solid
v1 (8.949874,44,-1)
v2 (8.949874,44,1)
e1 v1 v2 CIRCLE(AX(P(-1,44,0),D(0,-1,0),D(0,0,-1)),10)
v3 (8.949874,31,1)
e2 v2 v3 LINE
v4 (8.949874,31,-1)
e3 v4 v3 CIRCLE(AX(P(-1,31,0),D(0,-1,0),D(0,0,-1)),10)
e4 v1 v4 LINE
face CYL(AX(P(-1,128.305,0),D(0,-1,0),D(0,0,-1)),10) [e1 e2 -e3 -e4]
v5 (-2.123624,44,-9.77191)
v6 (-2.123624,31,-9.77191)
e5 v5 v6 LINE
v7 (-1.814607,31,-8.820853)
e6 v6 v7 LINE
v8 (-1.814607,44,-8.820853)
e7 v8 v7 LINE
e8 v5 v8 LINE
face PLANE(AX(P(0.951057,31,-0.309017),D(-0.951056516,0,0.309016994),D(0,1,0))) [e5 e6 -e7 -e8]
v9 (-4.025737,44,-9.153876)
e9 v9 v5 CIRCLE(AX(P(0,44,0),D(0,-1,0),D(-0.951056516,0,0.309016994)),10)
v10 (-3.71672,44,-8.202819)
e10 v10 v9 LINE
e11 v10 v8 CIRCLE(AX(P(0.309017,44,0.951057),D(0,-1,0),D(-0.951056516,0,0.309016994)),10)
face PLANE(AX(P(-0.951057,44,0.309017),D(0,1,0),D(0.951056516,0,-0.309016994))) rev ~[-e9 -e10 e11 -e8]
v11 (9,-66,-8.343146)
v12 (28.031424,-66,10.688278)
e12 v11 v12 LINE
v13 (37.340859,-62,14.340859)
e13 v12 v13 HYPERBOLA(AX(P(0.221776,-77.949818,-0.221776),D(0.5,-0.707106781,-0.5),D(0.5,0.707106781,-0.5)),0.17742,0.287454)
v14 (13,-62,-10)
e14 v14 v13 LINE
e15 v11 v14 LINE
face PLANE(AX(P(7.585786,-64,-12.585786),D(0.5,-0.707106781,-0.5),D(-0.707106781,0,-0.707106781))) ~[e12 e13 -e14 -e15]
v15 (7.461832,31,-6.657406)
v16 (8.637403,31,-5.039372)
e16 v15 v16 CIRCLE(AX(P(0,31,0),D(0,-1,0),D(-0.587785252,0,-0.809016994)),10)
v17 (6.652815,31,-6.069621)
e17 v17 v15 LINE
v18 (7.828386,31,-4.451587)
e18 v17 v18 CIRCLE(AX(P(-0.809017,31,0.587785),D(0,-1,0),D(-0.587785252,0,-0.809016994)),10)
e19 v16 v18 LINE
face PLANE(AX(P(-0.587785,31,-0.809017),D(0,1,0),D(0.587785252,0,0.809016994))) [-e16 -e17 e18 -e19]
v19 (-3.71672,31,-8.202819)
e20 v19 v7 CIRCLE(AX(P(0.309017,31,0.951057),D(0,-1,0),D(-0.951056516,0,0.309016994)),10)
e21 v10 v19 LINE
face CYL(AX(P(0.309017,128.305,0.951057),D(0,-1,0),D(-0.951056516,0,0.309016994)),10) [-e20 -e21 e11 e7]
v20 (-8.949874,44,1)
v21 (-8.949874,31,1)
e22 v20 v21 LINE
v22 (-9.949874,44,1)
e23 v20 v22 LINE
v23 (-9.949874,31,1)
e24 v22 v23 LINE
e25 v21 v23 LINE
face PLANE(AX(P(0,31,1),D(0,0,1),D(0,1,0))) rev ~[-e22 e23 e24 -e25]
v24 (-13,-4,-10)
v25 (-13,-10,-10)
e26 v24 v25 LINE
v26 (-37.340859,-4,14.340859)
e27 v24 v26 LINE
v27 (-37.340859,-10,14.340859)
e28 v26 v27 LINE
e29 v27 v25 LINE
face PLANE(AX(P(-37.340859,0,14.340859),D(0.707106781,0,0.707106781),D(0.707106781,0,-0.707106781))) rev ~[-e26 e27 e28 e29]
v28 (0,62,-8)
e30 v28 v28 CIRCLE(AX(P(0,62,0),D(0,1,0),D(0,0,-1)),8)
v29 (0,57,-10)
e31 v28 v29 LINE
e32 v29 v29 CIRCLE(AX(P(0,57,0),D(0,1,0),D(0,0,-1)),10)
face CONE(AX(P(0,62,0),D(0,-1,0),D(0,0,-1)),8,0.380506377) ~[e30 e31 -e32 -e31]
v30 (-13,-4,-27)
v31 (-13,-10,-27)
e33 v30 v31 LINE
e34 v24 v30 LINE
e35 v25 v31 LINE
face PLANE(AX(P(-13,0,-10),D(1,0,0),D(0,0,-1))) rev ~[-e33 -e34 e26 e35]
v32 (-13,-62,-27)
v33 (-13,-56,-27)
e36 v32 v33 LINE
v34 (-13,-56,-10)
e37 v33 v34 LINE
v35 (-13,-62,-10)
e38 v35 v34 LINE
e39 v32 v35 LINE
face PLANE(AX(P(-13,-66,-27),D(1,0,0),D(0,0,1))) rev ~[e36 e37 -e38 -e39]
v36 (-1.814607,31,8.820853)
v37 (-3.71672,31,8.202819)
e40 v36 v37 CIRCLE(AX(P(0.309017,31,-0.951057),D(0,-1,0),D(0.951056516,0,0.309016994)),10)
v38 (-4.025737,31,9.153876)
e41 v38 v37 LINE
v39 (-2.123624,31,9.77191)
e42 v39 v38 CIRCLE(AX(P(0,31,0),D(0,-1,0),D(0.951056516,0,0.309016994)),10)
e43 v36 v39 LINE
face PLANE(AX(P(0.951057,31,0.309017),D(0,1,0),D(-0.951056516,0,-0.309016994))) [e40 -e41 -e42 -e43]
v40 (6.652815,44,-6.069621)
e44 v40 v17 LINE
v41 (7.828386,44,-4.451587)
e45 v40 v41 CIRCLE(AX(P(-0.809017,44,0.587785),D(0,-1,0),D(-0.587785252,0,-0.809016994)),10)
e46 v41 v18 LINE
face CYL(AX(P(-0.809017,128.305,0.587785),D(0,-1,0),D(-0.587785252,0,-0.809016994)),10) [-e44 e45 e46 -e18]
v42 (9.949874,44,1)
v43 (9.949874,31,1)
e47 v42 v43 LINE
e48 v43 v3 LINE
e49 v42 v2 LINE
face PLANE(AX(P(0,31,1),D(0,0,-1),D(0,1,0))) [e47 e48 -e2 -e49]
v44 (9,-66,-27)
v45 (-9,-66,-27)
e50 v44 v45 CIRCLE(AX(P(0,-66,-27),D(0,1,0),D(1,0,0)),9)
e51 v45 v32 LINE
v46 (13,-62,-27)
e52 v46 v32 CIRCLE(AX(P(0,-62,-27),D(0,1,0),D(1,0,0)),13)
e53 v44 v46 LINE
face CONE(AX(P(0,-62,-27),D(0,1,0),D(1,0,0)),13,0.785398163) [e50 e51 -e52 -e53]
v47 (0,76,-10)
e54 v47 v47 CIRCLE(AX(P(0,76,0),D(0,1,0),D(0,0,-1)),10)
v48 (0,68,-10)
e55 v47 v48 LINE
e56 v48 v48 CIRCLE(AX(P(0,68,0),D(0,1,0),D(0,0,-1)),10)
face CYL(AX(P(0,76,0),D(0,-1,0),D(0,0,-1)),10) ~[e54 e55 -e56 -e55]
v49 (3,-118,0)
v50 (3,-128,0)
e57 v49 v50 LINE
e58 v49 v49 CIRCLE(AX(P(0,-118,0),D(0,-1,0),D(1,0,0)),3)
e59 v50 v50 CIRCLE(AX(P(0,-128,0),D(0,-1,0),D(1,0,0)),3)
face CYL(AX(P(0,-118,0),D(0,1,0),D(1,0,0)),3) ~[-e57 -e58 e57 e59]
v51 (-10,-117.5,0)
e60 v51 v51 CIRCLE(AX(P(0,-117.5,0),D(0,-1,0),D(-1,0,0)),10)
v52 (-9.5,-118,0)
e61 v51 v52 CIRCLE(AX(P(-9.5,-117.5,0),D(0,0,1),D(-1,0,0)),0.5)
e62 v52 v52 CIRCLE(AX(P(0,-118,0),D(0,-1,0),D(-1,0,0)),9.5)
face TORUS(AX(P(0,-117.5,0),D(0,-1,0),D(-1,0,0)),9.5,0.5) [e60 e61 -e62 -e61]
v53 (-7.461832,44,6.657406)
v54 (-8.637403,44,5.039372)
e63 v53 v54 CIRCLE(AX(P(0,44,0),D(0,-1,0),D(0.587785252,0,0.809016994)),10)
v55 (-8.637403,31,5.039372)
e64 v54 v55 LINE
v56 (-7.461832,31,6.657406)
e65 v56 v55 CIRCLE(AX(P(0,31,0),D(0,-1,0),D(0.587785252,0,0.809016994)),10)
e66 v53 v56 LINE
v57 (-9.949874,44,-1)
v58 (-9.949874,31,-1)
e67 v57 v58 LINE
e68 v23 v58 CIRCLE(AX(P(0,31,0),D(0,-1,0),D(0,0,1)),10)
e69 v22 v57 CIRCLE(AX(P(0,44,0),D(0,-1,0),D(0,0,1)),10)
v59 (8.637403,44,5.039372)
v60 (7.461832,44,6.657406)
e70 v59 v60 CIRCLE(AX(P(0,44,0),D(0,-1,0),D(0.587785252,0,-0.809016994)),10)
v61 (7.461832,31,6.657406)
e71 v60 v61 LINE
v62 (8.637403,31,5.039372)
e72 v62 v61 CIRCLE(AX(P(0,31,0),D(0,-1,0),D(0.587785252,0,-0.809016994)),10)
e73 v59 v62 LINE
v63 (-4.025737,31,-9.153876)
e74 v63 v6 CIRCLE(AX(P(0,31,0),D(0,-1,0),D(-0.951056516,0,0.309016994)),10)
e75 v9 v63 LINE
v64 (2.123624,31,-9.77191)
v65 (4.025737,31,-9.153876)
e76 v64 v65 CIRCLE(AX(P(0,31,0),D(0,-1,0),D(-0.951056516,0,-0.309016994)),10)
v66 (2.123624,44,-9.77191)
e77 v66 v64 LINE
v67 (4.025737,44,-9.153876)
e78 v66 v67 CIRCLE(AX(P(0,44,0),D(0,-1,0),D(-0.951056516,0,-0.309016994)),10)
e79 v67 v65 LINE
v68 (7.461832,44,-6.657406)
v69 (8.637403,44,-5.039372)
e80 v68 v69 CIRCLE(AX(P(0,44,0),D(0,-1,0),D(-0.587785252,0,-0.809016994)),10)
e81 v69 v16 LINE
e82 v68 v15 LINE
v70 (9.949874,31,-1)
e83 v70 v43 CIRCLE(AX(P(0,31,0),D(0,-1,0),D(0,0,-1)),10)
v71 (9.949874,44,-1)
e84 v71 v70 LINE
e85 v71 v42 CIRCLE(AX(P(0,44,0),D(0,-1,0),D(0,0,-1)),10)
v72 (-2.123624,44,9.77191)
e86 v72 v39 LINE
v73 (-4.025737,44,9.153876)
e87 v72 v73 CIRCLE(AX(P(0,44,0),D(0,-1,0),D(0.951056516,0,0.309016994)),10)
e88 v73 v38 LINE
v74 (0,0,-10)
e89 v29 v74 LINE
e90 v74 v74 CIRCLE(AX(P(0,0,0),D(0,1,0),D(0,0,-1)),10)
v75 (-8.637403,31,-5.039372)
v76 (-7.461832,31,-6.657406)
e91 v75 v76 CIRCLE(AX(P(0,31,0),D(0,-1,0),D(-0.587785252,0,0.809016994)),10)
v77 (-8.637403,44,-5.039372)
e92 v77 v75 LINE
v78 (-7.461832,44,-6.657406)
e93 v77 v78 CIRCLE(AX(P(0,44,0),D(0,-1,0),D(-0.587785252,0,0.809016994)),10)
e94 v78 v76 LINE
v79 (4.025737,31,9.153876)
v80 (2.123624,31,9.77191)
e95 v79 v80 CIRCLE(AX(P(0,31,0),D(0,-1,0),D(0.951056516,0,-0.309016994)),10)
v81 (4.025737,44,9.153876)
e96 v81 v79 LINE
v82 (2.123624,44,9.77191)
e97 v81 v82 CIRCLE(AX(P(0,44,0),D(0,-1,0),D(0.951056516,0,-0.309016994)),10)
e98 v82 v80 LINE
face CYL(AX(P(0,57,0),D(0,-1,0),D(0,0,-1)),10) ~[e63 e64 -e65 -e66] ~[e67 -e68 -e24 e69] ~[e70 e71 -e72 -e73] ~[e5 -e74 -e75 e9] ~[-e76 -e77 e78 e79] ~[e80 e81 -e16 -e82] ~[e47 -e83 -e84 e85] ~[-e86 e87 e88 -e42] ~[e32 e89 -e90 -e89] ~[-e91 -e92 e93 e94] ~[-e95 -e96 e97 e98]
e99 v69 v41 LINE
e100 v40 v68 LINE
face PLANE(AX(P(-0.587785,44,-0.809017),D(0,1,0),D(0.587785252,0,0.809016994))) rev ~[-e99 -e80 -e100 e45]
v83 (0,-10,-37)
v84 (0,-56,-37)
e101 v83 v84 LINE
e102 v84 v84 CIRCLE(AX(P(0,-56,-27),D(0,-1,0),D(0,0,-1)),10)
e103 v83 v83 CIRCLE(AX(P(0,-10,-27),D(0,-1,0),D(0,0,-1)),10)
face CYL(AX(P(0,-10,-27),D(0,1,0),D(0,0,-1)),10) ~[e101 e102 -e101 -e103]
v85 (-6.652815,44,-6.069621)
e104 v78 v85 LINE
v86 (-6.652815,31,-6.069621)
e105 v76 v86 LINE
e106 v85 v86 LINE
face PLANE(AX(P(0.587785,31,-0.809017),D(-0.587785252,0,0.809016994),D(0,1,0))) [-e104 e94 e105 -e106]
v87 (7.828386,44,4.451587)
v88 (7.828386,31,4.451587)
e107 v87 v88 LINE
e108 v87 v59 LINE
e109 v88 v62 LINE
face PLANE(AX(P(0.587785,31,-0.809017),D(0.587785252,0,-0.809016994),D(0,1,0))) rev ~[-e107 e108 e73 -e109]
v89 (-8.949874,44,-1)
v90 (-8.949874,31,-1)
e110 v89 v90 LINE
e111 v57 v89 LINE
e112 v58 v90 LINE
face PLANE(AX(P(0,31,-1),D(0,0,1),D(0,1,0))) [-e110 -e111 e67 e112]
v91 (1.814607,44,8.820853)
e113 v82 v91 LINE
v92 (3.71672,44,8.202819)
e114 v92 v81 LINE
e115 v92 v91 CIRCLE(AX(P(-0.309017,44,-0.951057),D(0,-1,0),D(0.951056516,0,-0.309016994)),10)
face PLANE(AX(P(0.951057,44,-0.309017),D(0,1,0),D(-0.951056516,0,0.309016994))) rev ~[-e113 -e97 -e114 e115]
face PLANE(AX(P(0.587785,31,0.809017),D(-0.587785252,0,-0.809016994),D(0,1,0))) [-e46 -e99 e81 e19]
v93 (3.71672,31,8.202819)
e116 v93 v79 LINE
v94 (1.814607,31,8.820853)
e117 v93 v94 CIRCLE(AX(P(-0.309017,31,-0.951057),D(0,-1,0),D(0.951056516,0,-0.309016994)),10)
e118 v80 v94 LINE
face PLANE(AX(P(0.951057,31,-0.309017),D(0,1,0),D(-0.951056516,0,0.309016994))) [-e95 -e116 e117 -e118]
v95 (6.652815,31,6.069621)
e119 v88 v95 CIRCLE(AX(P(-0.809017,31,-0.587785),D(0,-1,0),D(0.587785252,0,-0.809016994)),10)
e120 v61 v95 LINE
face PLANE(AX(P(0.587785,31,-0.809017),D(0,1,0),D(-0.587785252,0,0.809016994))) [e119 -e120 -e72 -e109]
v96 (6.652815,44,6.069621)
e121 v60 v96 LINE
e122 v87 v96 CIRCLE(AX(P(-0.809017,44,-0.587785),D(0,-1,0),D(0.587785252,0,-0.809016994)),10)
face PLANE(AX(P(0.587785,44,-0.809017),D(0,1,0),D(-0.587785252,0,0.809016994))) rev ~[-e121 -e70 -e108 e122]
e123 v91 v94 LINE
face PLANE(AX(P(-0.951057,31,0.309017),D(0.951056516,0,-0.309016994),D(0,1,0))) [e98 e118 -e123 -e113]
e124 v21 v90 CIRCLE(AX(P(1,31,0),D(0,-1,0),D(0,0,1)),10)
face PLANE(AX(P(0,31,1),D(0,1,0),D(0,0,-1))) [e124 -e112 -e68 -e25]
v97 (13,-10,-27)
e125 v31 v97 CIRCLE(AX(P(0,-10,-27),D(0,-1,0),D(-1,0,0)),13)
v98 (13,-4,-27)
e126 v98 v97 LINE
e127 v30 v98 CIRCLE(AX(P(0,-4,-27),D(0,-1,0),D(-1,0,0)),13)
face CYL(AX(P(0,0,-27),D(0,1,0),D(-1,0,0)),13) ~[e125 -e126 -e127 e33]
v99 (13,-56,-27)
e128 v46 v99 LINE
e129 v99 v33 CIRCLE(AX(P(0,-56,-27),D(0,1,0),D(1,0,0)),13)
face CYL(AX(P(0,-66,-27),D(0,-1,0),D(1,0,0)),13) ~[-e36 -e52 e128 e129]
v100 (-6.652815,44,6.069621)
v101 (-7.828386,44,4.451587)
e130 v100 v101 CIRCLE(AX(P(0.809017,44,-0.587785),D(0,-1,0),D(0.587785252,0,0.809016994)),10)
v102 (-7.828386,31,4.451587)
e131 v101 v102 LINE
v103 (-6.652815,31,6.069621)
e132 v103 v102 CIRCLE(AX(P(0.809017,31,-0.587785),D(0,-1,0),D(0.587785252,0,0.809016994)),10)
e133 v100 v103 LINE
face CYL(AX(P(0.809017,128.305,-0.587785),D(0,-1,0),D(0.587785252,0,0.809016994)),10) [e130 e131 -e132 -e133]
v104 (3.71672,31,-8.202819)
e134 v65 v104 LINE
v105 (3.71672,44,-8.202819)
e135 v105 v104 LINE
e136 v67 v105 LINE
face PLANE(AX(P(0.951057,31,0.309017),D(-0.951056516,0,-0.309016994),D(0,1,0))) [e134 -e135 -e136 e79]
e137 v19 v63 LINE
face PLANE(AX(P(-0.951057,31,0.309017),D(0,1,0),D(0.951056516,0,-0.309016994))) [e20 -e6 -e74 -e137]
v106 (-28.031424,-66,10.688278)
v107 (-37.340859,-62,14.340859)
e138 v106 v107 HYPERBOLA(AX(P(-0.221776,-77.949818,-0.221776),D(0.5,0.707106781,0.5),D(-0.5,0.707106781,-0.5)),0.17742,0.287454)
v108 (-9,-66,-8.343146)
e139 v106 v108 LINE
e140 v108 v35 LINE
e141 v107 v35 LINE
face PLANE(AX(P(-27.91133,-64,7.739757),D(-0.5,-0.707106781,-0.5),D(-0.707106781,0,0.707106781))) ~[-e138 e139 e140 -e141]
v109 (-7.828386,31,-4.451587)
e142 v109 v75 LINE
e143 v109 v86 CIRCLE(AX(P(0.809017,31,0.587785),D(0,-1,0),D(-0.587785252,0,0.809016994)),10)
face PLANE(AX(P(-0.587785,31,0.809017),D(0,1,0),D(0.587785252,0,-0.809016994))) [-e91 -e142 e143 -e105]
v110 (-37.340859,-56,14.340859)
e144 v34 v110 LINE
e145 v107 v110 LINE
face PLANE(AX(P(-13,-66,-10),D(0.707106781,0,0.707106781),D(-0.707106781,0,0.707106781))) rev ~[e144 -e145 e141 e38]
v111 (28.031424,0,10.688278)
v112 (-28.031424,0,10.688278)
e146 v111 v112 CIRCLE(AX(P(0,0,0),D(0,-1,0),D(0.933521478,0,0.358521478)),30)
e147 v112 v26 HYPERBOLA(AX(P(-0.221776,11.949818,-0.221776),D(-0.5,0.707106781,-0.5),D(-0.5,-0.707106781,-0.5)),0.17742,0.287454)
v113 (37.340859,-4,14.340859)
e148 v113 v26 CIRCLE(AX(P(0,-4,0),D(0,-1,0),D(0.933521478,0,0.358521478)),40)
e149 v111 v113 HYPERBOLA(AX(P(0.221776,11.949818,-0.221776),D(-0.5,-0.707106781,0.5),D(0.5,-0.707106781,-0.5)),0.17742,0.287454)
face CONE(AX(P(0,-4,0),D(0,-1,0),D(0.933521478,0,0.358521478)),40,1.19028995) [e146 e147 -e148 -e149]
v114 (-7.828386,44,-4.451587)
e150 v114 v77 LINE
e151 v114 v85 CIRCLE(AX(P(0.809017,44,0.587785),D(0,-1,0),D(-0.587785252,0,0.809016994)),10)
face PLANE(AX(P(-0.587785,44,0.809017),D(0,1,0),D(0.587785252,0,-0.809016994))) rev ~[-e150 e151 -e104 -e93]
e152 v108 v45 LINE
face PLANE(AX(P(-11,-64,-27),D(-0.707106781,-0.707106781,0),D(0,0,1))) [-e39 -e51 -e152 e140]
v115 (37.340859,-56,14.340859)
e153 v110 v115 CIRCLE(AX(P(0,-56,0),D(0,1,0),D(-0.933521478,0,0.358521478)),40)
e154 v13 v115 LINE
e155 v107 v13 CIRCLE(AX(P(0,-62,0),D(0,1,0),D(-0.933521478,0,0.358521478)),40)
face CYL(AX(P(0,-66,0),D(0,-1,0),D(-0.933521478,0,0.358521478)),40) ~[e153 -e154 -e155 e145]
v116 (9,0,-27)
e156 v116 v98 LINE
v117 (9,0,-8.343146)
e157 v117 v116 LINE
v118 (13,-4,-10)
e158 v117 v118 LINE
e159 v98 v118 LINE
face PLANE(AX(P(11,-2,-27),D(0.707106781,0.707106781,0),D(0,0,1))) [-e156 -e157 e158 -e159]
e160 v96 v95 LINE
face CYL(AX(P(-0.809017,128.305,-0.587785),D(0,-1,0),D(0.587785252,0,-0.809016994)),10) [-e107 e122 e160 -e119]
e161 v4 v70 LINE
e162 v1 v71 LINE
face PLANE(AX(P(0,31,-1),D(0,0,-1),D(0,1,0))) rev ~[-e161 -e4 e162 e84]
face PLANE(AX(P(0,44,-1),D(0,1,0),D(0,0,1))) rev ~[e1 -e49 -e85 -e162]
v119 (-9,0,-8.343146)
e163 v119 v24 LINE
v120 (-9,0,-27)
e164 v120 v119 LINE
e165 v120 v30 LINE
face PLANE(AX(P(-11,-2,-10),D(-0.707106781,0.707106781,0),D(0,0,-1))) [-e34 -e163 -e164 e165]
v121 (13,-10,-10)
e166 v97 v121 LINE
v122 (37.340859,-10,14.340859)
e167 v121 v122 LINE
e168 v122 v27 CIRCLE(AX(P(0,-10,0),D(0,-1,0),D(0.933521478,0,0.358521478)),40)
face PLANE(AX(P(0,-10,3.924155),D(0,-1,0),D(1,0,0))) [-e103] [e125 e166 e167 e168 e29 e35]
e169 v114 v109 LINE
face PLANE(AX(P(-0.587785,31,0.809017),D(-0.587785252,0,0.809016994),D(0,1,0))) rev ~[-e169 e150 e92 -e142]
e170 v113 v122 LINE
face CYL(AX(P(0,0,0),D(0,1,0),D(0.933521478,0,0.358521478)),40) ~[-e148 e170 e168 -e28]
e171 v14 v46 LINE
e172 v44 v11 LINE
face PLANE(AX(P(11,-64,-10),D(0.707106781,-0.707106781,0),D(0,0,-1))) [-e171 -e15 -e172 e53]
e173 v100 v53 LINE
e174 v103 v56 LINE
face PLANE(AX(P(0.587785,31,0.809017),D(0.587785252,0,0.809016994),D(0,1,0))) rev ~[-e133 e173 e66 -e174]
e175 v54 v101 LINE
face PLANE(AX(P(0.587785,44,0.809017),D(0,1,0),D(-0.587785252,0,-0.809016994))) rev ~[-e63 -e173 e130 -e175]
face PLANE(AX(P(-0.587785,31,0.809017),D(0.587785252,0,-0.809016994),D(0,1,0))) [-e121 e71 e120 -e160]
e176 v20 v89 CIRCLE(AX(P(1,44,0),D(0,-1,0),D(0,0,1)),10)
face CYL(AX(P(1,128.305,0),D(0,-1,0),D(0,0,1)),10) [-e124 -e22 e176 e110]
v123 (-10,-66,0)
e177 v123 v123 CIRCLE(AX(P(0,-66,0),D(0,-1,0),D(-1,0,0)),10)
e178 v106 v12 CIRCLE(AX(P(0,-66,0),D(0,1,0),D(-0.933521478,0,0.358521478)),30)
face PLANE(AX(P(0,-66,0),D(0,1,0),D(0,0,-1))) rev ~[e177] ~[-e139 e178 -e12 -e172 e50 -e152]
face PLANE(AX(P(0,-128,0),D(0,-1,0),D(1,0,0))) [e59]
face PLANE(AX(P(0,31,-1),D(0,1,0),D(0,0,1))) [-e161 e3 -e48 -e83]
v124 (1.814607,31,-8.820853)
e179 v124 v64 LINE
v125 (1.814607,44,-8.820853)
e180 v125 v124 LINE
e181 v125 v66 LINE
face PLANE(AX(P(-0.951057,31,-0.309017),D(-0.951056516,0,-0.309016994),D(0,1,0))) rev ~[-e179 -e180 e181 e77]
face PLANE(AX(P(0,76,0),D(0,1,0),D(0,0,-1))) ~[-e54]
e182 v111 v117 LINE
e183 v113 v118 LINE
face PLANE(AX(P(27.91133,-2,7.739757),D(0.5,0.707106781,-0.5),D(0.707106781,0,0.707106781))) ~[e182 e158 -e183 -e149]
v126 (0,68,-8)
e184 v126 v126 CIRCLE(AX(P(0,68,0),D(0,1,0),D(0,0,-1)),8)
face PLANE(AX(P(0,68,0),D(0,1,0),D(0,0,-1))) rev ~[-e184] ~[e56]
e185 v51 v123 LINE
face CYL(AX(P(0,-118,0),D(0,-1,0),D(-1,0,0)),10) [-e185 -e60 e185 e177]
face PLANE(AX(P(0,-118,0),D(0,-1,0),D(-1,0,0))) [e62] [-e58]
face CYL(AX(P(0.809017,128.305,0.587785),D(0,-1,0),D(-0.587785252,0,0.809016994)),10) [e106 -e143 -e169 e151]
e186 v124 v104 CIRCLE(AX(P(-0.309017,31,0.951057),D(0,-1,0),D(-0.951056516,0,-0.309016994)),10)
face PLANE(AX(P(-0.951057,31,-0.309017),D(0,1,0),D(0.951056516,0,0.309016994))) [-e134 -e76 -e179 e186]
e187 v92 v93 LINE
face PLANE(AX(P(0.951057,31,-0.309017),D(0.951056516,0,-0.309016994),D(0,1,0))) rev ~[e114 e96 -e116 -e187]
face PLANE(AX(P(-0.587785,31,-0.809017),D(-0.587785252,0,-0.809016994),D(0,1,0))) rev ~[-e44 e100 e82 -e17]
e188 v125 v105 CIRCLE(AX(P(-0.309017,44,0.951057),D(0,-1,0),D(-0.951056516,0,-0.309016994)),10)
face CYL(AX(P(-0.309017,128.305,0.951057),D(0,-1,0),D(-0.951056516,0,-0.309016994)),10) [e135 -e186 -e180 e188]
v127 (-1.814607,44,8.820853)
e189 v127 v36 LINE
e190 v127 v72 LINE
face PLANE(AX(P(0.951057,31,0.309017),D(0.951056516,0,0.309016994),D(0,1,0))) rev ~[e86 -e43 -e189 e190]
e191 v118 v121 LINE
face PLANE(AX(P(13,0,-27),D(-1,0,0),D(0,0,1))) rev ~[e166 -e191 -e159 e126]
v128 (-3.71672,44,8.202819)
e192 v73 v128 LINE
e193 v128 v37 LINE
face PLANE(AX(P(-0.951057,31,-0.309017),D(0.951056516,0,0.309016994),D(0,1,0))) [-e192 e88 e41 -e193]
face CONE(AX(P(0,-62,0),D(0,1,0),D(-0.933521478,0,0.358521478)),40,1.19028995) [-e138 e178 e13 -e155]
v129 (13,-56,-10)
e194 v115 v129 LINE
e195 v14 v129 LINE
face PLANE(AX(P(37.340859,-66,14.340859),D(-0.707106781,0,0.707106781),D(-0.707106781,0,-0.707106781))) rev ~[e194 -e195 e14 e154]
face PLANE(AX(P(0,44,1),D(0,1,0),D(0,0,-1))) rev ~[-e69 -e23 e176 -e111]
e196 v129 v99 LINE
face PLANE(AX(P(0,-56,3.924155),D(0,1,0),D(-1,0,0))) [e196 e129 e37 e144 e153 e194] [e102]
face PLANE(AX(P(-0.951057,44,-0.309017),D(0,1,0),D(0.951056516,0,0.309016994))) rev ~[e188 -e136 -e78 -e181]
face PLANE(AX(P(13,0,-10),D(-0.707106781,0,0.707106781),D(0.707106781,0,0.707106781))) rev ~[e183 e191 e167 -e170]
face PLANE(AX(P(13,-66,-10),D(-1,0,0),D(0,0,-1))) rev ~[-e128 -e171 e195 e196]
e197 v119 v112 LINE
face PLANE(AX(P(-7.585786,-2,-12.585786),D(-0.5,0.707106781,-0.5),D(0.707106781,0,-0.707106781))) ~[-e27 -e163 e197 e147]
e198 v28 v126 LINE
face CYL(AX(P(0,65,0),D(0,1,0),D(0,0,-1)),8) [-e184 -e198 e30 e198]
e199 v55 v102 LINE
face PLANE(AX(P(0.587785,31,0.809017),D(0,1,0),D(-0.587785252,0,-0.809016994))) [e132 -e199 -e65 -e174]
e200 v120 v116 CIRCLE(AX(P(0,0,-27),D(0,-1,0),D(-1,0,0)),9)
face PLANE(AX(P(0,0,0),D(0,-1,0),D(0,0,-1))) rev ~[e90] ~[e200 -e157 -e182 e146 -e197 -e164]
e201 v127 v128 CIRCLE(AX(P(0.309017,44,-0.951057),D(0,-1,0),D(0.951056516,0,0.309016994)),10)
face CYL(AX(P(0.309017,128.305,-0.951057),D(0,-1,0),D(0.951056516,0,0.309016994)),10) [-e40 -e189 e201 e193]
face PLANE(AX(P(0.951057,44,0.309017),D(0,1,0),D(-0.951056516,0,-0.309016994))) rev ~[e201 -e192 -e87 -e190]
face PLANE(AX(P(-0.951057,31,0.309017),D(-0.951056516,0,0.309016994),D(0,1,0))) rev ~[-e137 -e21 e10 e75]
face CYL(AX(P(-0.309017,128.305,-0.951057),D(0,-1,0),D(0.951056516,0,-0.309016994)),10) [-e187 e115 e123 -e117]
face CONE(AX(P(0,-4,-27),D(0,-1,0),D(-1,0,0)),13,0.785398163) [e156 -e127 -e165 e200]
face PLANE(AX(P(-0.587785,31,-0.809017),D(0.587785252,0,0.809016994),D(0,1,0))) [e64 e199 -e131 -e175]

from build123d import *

# Parameters (mm, degrees)
SKETCH1_W                 = 6
SKETCH1_H                 = 8
CUT_EXTRUDE1_REACH        = 80.305
CUT_EXTRUDE1_START_RADIUS = 10
CUT_EXTRUDE1_END_RADIUS   = 10
SKETCH2_W                 = 13
SKETCH2_H                 = 2
CIRPATTERN1_COUNT         = 10
SKETCH3_R                 = 10
BOSS_EXTRUDE1_DEPTH       = 10
CHAMFER2_SIZE             = 4
CHAMFER6_SIZE             = 10
CHAMFER6_SIZE2            = 4
CHAMFER3_SIZE             = 4
CHAMFER5_SIZE             = 4
BODY_MOVE_COPY2_ANGLE     = 180
SKETCH5_R                 = 10
BOSS_EXTRUDE2_DEPTH       = 46
BOSS_EXTRUDE3_START       = 52
SKETCH6_R                 = 10
BOSS_EXTRUDE3_DEPTH       = 52
BOSS_EXTRUDE4_START       = 52
SKETCH6_3_R               = 3
BOSS_EXTRUDE4_DEPTH       = 10
FILLET1_R                 = 0.5


with BuildPart() as part:
    # Sketch1 → Revolve1 (revolve)
    with BuildSketch(Plane.YZ, mode=Mode.PRIVATE) as revolve1_sk:
        Polygon((57, 10), (0, 10), (0, 0), (62, 0), (62, 8), align=None)
        with Locations((65, 4)):
            Rectangle(SKETCH1_W, SKETCH1_H)
        Polygon((68, 10), (68, 8), (68, 0), (76, 0), (76, 10), align=None)
    revolve(revolve1_sk.sketch.rotate(Axis((0, -74.081666102, 0), (0, 1, 0)), 180), axis=Axis((0, -74.081666102, 0), (0, 1, 0)))

    # Cut-Extrude1: from a cylinder face, 80.305 long prism both ways, kept between that surface and its translate by the depth
    cut_extrude1_start = Plane(origin=(0, 37.5, 0), z_dir=(0, -1, 0)) * Cylinder(CUT_EXTRUDE1_START_RADIUS, 181.61, mode=Mode.PRIVATE)
    cut_extrude1_end = Plane(origin=(-1, 37.5, 0), z_dir=(0, -1, 0)) * Cylinder(CUT_EXTRUDE1_END_RADIUS, 181.61, mode=Mode.PRIVATE)
    # Sketch2 → Cut-Extrude1 (cut, from a surface)
    with BuildSketch(Plane.YZ, mode=Mode.PRIVATE) as cut_extrude1_sk1:
        with Locations((37.5, 0)):
            Rectangle(SKETCH2_W, SKETCH2_H)
    cut_extrude1_tool1 = extrude(cut_extrude1_sk1.sketch, amount=CUT_EXTRUDE1_REACH, both=True, mode=Mode.PRIVATE)
    cut_extrude1 = ((cut_extrude1_tool1 & cut_extrude1_start) - cut_extrude1_end).solids().sort_by_distance((9.449874, 37.5, 0))[0]
    add(cut_extrude1, mode=Mode.SUBTRACT)

    # CirPattern1: Cut-Extrude1 ×10 about axis
    cirpattern1_axis = Axis((0, 0, 0), (0, 1, 0))
    for i in range(1, CIRPATTERN1_COUNT):
        add(cut_extrude1.rotate(cirpattern1_axis, i * 360 / CIRPATTERN1_COUNT), mode=Mode.SUBTRACT)


with BuildPart() as body_2:
    # Sketch3 → Boss-Extrude1 (new body)
    # profile 1 of 2: a face of its own
    with BuildSketch(Plane.XZ):
        with BuildLine():
            Line((-37.340859119, 14.340859119), (-13, -10))
            Line((-13, -10), (-13, -27))
            ThreePointArc((-13, -27), (0, -40), (13, -27))
            Line((13, -27), (13, -10))
            Line((13, -10), (37.340859119, 14.340859119))
            ThreePointArc((37.340859119, 14.340859119), (0, 40), (-37.340859119, 14.340859119))
        make_face()
        with Locations(Location((0, 0, 0), (0, 0, 270))):
            Circle(SKETCH3_R, mode=Mode.SUBTRACT)
    # profile 2 of 2: a face of its own
    with BuildSketch(Plane.XZ):
        with Locations(Location((0, 0, 0), (0, 0, 270))):
            Circle(SKETCH3_R)
    extrude(amount=BOSS_EXTRUDE1_DEPTH)

    # Chamfer2
    chamfer2_edges = [body_2.edges().sort_by_distance(p)[0] for p in [
        (-13, 0, -18.5),
        (13, 0, -18.5),
        (0, 0, -40),
    ]]
    chamfer(chamfer2_edges, length=CHAMFER2_SIZE)

    # Chamfer6
    chamfer6_edges = [body_2.edges().sort_by_distance(p)[0] for p in [
        (0, 0, 40),
    ]]
    chamfer6_side = [body_2.faces().sort_by_distance(p)[0] for p in [
        (0, 0, 9.789093574),
    ]]
    chamfer(chamfer6_edges, length=CHAMFER6_SIZE, length2=CHAMFER6_SIZE2, reference=chamfer6_side[0])

    # Chamfer3
    chamfer3_edges = [body_2.edges().sort_by_distance(p)[0] for p in [
        (19.162771735, 0, -3.837228265),
    ]]
    chamfer(chamfer3_edges, length=CHAMFER3_SIZE)

    # Chamfer5
    chamfer5_edges = [body_2.edges().sort_by_distance(p)[0] for p in [
        (-19.162771735, 0, -3.837228265),
    ]]
    chamfer(chamfer5_edges, length=CHAMFER5_SIZE)


with BuildPart() as body_3:
    # Body-Move/Copy1: copy of body 2
    add(body_2.part.moved(Location((0, -36, 0))))


with BuildPart() as body_3_1:
    # Body-Move/Copy2: moved
    add(body_3.part.rotate(Axis((0, -51, 0), (0, 0, 1)), BODY_MOVE_COPY2_ANGLE))


with BuildPart() as body_2_1:
    add(body_2.part)

    add(body_3_1.part)  # Boss-Extrude2 merges body 3
    # Sketch5 → Boss-Extrude2 (add)
    with BuildSketch(Plane.XZ.offset(10)):
        with Locations(Location((0, -27, 0), (0, 0, 270))):
            Circle(SKETCH5_R)
    extrude(amount=BOSS_EXTRUDE2_DEPTH)

    # Sketch6 → Boss-Extrude3 (add)
    with BuildSketch(Plane.XZ.offset(66).offset(BOSS_EXTRUDE3_START)):
        with Locations(Location((0, 0, 0), (0, 0, 180))):
            Circle(SKETCH6_R)
    extrude(amount=-BOSS_EXTRUDE3_DEPTH)

    # Sketch6<3> → Boss-Extrude4 (add)
    with BuildSketch(Plane.XZ.offset(66).offset(BOSS_EXTRUDE4_START)):
        Circle(SKETCH6_3_R)
    extrude(amount=BOSS_EXTRUDE4_DEPTH)

    # Fillet1
    fillet1_edges = [body_2_1.edges().sort_by_distance(p)[0] for p in [
        (10, -118, 0),
    ]]
    fillet(fillet1_edges, radius=FILLET1_R)


with BuildPart() as part_1:
    add(part.part)

    # Combine1: union body 2
    add(body_2_1.part)


solid = part_1.part
